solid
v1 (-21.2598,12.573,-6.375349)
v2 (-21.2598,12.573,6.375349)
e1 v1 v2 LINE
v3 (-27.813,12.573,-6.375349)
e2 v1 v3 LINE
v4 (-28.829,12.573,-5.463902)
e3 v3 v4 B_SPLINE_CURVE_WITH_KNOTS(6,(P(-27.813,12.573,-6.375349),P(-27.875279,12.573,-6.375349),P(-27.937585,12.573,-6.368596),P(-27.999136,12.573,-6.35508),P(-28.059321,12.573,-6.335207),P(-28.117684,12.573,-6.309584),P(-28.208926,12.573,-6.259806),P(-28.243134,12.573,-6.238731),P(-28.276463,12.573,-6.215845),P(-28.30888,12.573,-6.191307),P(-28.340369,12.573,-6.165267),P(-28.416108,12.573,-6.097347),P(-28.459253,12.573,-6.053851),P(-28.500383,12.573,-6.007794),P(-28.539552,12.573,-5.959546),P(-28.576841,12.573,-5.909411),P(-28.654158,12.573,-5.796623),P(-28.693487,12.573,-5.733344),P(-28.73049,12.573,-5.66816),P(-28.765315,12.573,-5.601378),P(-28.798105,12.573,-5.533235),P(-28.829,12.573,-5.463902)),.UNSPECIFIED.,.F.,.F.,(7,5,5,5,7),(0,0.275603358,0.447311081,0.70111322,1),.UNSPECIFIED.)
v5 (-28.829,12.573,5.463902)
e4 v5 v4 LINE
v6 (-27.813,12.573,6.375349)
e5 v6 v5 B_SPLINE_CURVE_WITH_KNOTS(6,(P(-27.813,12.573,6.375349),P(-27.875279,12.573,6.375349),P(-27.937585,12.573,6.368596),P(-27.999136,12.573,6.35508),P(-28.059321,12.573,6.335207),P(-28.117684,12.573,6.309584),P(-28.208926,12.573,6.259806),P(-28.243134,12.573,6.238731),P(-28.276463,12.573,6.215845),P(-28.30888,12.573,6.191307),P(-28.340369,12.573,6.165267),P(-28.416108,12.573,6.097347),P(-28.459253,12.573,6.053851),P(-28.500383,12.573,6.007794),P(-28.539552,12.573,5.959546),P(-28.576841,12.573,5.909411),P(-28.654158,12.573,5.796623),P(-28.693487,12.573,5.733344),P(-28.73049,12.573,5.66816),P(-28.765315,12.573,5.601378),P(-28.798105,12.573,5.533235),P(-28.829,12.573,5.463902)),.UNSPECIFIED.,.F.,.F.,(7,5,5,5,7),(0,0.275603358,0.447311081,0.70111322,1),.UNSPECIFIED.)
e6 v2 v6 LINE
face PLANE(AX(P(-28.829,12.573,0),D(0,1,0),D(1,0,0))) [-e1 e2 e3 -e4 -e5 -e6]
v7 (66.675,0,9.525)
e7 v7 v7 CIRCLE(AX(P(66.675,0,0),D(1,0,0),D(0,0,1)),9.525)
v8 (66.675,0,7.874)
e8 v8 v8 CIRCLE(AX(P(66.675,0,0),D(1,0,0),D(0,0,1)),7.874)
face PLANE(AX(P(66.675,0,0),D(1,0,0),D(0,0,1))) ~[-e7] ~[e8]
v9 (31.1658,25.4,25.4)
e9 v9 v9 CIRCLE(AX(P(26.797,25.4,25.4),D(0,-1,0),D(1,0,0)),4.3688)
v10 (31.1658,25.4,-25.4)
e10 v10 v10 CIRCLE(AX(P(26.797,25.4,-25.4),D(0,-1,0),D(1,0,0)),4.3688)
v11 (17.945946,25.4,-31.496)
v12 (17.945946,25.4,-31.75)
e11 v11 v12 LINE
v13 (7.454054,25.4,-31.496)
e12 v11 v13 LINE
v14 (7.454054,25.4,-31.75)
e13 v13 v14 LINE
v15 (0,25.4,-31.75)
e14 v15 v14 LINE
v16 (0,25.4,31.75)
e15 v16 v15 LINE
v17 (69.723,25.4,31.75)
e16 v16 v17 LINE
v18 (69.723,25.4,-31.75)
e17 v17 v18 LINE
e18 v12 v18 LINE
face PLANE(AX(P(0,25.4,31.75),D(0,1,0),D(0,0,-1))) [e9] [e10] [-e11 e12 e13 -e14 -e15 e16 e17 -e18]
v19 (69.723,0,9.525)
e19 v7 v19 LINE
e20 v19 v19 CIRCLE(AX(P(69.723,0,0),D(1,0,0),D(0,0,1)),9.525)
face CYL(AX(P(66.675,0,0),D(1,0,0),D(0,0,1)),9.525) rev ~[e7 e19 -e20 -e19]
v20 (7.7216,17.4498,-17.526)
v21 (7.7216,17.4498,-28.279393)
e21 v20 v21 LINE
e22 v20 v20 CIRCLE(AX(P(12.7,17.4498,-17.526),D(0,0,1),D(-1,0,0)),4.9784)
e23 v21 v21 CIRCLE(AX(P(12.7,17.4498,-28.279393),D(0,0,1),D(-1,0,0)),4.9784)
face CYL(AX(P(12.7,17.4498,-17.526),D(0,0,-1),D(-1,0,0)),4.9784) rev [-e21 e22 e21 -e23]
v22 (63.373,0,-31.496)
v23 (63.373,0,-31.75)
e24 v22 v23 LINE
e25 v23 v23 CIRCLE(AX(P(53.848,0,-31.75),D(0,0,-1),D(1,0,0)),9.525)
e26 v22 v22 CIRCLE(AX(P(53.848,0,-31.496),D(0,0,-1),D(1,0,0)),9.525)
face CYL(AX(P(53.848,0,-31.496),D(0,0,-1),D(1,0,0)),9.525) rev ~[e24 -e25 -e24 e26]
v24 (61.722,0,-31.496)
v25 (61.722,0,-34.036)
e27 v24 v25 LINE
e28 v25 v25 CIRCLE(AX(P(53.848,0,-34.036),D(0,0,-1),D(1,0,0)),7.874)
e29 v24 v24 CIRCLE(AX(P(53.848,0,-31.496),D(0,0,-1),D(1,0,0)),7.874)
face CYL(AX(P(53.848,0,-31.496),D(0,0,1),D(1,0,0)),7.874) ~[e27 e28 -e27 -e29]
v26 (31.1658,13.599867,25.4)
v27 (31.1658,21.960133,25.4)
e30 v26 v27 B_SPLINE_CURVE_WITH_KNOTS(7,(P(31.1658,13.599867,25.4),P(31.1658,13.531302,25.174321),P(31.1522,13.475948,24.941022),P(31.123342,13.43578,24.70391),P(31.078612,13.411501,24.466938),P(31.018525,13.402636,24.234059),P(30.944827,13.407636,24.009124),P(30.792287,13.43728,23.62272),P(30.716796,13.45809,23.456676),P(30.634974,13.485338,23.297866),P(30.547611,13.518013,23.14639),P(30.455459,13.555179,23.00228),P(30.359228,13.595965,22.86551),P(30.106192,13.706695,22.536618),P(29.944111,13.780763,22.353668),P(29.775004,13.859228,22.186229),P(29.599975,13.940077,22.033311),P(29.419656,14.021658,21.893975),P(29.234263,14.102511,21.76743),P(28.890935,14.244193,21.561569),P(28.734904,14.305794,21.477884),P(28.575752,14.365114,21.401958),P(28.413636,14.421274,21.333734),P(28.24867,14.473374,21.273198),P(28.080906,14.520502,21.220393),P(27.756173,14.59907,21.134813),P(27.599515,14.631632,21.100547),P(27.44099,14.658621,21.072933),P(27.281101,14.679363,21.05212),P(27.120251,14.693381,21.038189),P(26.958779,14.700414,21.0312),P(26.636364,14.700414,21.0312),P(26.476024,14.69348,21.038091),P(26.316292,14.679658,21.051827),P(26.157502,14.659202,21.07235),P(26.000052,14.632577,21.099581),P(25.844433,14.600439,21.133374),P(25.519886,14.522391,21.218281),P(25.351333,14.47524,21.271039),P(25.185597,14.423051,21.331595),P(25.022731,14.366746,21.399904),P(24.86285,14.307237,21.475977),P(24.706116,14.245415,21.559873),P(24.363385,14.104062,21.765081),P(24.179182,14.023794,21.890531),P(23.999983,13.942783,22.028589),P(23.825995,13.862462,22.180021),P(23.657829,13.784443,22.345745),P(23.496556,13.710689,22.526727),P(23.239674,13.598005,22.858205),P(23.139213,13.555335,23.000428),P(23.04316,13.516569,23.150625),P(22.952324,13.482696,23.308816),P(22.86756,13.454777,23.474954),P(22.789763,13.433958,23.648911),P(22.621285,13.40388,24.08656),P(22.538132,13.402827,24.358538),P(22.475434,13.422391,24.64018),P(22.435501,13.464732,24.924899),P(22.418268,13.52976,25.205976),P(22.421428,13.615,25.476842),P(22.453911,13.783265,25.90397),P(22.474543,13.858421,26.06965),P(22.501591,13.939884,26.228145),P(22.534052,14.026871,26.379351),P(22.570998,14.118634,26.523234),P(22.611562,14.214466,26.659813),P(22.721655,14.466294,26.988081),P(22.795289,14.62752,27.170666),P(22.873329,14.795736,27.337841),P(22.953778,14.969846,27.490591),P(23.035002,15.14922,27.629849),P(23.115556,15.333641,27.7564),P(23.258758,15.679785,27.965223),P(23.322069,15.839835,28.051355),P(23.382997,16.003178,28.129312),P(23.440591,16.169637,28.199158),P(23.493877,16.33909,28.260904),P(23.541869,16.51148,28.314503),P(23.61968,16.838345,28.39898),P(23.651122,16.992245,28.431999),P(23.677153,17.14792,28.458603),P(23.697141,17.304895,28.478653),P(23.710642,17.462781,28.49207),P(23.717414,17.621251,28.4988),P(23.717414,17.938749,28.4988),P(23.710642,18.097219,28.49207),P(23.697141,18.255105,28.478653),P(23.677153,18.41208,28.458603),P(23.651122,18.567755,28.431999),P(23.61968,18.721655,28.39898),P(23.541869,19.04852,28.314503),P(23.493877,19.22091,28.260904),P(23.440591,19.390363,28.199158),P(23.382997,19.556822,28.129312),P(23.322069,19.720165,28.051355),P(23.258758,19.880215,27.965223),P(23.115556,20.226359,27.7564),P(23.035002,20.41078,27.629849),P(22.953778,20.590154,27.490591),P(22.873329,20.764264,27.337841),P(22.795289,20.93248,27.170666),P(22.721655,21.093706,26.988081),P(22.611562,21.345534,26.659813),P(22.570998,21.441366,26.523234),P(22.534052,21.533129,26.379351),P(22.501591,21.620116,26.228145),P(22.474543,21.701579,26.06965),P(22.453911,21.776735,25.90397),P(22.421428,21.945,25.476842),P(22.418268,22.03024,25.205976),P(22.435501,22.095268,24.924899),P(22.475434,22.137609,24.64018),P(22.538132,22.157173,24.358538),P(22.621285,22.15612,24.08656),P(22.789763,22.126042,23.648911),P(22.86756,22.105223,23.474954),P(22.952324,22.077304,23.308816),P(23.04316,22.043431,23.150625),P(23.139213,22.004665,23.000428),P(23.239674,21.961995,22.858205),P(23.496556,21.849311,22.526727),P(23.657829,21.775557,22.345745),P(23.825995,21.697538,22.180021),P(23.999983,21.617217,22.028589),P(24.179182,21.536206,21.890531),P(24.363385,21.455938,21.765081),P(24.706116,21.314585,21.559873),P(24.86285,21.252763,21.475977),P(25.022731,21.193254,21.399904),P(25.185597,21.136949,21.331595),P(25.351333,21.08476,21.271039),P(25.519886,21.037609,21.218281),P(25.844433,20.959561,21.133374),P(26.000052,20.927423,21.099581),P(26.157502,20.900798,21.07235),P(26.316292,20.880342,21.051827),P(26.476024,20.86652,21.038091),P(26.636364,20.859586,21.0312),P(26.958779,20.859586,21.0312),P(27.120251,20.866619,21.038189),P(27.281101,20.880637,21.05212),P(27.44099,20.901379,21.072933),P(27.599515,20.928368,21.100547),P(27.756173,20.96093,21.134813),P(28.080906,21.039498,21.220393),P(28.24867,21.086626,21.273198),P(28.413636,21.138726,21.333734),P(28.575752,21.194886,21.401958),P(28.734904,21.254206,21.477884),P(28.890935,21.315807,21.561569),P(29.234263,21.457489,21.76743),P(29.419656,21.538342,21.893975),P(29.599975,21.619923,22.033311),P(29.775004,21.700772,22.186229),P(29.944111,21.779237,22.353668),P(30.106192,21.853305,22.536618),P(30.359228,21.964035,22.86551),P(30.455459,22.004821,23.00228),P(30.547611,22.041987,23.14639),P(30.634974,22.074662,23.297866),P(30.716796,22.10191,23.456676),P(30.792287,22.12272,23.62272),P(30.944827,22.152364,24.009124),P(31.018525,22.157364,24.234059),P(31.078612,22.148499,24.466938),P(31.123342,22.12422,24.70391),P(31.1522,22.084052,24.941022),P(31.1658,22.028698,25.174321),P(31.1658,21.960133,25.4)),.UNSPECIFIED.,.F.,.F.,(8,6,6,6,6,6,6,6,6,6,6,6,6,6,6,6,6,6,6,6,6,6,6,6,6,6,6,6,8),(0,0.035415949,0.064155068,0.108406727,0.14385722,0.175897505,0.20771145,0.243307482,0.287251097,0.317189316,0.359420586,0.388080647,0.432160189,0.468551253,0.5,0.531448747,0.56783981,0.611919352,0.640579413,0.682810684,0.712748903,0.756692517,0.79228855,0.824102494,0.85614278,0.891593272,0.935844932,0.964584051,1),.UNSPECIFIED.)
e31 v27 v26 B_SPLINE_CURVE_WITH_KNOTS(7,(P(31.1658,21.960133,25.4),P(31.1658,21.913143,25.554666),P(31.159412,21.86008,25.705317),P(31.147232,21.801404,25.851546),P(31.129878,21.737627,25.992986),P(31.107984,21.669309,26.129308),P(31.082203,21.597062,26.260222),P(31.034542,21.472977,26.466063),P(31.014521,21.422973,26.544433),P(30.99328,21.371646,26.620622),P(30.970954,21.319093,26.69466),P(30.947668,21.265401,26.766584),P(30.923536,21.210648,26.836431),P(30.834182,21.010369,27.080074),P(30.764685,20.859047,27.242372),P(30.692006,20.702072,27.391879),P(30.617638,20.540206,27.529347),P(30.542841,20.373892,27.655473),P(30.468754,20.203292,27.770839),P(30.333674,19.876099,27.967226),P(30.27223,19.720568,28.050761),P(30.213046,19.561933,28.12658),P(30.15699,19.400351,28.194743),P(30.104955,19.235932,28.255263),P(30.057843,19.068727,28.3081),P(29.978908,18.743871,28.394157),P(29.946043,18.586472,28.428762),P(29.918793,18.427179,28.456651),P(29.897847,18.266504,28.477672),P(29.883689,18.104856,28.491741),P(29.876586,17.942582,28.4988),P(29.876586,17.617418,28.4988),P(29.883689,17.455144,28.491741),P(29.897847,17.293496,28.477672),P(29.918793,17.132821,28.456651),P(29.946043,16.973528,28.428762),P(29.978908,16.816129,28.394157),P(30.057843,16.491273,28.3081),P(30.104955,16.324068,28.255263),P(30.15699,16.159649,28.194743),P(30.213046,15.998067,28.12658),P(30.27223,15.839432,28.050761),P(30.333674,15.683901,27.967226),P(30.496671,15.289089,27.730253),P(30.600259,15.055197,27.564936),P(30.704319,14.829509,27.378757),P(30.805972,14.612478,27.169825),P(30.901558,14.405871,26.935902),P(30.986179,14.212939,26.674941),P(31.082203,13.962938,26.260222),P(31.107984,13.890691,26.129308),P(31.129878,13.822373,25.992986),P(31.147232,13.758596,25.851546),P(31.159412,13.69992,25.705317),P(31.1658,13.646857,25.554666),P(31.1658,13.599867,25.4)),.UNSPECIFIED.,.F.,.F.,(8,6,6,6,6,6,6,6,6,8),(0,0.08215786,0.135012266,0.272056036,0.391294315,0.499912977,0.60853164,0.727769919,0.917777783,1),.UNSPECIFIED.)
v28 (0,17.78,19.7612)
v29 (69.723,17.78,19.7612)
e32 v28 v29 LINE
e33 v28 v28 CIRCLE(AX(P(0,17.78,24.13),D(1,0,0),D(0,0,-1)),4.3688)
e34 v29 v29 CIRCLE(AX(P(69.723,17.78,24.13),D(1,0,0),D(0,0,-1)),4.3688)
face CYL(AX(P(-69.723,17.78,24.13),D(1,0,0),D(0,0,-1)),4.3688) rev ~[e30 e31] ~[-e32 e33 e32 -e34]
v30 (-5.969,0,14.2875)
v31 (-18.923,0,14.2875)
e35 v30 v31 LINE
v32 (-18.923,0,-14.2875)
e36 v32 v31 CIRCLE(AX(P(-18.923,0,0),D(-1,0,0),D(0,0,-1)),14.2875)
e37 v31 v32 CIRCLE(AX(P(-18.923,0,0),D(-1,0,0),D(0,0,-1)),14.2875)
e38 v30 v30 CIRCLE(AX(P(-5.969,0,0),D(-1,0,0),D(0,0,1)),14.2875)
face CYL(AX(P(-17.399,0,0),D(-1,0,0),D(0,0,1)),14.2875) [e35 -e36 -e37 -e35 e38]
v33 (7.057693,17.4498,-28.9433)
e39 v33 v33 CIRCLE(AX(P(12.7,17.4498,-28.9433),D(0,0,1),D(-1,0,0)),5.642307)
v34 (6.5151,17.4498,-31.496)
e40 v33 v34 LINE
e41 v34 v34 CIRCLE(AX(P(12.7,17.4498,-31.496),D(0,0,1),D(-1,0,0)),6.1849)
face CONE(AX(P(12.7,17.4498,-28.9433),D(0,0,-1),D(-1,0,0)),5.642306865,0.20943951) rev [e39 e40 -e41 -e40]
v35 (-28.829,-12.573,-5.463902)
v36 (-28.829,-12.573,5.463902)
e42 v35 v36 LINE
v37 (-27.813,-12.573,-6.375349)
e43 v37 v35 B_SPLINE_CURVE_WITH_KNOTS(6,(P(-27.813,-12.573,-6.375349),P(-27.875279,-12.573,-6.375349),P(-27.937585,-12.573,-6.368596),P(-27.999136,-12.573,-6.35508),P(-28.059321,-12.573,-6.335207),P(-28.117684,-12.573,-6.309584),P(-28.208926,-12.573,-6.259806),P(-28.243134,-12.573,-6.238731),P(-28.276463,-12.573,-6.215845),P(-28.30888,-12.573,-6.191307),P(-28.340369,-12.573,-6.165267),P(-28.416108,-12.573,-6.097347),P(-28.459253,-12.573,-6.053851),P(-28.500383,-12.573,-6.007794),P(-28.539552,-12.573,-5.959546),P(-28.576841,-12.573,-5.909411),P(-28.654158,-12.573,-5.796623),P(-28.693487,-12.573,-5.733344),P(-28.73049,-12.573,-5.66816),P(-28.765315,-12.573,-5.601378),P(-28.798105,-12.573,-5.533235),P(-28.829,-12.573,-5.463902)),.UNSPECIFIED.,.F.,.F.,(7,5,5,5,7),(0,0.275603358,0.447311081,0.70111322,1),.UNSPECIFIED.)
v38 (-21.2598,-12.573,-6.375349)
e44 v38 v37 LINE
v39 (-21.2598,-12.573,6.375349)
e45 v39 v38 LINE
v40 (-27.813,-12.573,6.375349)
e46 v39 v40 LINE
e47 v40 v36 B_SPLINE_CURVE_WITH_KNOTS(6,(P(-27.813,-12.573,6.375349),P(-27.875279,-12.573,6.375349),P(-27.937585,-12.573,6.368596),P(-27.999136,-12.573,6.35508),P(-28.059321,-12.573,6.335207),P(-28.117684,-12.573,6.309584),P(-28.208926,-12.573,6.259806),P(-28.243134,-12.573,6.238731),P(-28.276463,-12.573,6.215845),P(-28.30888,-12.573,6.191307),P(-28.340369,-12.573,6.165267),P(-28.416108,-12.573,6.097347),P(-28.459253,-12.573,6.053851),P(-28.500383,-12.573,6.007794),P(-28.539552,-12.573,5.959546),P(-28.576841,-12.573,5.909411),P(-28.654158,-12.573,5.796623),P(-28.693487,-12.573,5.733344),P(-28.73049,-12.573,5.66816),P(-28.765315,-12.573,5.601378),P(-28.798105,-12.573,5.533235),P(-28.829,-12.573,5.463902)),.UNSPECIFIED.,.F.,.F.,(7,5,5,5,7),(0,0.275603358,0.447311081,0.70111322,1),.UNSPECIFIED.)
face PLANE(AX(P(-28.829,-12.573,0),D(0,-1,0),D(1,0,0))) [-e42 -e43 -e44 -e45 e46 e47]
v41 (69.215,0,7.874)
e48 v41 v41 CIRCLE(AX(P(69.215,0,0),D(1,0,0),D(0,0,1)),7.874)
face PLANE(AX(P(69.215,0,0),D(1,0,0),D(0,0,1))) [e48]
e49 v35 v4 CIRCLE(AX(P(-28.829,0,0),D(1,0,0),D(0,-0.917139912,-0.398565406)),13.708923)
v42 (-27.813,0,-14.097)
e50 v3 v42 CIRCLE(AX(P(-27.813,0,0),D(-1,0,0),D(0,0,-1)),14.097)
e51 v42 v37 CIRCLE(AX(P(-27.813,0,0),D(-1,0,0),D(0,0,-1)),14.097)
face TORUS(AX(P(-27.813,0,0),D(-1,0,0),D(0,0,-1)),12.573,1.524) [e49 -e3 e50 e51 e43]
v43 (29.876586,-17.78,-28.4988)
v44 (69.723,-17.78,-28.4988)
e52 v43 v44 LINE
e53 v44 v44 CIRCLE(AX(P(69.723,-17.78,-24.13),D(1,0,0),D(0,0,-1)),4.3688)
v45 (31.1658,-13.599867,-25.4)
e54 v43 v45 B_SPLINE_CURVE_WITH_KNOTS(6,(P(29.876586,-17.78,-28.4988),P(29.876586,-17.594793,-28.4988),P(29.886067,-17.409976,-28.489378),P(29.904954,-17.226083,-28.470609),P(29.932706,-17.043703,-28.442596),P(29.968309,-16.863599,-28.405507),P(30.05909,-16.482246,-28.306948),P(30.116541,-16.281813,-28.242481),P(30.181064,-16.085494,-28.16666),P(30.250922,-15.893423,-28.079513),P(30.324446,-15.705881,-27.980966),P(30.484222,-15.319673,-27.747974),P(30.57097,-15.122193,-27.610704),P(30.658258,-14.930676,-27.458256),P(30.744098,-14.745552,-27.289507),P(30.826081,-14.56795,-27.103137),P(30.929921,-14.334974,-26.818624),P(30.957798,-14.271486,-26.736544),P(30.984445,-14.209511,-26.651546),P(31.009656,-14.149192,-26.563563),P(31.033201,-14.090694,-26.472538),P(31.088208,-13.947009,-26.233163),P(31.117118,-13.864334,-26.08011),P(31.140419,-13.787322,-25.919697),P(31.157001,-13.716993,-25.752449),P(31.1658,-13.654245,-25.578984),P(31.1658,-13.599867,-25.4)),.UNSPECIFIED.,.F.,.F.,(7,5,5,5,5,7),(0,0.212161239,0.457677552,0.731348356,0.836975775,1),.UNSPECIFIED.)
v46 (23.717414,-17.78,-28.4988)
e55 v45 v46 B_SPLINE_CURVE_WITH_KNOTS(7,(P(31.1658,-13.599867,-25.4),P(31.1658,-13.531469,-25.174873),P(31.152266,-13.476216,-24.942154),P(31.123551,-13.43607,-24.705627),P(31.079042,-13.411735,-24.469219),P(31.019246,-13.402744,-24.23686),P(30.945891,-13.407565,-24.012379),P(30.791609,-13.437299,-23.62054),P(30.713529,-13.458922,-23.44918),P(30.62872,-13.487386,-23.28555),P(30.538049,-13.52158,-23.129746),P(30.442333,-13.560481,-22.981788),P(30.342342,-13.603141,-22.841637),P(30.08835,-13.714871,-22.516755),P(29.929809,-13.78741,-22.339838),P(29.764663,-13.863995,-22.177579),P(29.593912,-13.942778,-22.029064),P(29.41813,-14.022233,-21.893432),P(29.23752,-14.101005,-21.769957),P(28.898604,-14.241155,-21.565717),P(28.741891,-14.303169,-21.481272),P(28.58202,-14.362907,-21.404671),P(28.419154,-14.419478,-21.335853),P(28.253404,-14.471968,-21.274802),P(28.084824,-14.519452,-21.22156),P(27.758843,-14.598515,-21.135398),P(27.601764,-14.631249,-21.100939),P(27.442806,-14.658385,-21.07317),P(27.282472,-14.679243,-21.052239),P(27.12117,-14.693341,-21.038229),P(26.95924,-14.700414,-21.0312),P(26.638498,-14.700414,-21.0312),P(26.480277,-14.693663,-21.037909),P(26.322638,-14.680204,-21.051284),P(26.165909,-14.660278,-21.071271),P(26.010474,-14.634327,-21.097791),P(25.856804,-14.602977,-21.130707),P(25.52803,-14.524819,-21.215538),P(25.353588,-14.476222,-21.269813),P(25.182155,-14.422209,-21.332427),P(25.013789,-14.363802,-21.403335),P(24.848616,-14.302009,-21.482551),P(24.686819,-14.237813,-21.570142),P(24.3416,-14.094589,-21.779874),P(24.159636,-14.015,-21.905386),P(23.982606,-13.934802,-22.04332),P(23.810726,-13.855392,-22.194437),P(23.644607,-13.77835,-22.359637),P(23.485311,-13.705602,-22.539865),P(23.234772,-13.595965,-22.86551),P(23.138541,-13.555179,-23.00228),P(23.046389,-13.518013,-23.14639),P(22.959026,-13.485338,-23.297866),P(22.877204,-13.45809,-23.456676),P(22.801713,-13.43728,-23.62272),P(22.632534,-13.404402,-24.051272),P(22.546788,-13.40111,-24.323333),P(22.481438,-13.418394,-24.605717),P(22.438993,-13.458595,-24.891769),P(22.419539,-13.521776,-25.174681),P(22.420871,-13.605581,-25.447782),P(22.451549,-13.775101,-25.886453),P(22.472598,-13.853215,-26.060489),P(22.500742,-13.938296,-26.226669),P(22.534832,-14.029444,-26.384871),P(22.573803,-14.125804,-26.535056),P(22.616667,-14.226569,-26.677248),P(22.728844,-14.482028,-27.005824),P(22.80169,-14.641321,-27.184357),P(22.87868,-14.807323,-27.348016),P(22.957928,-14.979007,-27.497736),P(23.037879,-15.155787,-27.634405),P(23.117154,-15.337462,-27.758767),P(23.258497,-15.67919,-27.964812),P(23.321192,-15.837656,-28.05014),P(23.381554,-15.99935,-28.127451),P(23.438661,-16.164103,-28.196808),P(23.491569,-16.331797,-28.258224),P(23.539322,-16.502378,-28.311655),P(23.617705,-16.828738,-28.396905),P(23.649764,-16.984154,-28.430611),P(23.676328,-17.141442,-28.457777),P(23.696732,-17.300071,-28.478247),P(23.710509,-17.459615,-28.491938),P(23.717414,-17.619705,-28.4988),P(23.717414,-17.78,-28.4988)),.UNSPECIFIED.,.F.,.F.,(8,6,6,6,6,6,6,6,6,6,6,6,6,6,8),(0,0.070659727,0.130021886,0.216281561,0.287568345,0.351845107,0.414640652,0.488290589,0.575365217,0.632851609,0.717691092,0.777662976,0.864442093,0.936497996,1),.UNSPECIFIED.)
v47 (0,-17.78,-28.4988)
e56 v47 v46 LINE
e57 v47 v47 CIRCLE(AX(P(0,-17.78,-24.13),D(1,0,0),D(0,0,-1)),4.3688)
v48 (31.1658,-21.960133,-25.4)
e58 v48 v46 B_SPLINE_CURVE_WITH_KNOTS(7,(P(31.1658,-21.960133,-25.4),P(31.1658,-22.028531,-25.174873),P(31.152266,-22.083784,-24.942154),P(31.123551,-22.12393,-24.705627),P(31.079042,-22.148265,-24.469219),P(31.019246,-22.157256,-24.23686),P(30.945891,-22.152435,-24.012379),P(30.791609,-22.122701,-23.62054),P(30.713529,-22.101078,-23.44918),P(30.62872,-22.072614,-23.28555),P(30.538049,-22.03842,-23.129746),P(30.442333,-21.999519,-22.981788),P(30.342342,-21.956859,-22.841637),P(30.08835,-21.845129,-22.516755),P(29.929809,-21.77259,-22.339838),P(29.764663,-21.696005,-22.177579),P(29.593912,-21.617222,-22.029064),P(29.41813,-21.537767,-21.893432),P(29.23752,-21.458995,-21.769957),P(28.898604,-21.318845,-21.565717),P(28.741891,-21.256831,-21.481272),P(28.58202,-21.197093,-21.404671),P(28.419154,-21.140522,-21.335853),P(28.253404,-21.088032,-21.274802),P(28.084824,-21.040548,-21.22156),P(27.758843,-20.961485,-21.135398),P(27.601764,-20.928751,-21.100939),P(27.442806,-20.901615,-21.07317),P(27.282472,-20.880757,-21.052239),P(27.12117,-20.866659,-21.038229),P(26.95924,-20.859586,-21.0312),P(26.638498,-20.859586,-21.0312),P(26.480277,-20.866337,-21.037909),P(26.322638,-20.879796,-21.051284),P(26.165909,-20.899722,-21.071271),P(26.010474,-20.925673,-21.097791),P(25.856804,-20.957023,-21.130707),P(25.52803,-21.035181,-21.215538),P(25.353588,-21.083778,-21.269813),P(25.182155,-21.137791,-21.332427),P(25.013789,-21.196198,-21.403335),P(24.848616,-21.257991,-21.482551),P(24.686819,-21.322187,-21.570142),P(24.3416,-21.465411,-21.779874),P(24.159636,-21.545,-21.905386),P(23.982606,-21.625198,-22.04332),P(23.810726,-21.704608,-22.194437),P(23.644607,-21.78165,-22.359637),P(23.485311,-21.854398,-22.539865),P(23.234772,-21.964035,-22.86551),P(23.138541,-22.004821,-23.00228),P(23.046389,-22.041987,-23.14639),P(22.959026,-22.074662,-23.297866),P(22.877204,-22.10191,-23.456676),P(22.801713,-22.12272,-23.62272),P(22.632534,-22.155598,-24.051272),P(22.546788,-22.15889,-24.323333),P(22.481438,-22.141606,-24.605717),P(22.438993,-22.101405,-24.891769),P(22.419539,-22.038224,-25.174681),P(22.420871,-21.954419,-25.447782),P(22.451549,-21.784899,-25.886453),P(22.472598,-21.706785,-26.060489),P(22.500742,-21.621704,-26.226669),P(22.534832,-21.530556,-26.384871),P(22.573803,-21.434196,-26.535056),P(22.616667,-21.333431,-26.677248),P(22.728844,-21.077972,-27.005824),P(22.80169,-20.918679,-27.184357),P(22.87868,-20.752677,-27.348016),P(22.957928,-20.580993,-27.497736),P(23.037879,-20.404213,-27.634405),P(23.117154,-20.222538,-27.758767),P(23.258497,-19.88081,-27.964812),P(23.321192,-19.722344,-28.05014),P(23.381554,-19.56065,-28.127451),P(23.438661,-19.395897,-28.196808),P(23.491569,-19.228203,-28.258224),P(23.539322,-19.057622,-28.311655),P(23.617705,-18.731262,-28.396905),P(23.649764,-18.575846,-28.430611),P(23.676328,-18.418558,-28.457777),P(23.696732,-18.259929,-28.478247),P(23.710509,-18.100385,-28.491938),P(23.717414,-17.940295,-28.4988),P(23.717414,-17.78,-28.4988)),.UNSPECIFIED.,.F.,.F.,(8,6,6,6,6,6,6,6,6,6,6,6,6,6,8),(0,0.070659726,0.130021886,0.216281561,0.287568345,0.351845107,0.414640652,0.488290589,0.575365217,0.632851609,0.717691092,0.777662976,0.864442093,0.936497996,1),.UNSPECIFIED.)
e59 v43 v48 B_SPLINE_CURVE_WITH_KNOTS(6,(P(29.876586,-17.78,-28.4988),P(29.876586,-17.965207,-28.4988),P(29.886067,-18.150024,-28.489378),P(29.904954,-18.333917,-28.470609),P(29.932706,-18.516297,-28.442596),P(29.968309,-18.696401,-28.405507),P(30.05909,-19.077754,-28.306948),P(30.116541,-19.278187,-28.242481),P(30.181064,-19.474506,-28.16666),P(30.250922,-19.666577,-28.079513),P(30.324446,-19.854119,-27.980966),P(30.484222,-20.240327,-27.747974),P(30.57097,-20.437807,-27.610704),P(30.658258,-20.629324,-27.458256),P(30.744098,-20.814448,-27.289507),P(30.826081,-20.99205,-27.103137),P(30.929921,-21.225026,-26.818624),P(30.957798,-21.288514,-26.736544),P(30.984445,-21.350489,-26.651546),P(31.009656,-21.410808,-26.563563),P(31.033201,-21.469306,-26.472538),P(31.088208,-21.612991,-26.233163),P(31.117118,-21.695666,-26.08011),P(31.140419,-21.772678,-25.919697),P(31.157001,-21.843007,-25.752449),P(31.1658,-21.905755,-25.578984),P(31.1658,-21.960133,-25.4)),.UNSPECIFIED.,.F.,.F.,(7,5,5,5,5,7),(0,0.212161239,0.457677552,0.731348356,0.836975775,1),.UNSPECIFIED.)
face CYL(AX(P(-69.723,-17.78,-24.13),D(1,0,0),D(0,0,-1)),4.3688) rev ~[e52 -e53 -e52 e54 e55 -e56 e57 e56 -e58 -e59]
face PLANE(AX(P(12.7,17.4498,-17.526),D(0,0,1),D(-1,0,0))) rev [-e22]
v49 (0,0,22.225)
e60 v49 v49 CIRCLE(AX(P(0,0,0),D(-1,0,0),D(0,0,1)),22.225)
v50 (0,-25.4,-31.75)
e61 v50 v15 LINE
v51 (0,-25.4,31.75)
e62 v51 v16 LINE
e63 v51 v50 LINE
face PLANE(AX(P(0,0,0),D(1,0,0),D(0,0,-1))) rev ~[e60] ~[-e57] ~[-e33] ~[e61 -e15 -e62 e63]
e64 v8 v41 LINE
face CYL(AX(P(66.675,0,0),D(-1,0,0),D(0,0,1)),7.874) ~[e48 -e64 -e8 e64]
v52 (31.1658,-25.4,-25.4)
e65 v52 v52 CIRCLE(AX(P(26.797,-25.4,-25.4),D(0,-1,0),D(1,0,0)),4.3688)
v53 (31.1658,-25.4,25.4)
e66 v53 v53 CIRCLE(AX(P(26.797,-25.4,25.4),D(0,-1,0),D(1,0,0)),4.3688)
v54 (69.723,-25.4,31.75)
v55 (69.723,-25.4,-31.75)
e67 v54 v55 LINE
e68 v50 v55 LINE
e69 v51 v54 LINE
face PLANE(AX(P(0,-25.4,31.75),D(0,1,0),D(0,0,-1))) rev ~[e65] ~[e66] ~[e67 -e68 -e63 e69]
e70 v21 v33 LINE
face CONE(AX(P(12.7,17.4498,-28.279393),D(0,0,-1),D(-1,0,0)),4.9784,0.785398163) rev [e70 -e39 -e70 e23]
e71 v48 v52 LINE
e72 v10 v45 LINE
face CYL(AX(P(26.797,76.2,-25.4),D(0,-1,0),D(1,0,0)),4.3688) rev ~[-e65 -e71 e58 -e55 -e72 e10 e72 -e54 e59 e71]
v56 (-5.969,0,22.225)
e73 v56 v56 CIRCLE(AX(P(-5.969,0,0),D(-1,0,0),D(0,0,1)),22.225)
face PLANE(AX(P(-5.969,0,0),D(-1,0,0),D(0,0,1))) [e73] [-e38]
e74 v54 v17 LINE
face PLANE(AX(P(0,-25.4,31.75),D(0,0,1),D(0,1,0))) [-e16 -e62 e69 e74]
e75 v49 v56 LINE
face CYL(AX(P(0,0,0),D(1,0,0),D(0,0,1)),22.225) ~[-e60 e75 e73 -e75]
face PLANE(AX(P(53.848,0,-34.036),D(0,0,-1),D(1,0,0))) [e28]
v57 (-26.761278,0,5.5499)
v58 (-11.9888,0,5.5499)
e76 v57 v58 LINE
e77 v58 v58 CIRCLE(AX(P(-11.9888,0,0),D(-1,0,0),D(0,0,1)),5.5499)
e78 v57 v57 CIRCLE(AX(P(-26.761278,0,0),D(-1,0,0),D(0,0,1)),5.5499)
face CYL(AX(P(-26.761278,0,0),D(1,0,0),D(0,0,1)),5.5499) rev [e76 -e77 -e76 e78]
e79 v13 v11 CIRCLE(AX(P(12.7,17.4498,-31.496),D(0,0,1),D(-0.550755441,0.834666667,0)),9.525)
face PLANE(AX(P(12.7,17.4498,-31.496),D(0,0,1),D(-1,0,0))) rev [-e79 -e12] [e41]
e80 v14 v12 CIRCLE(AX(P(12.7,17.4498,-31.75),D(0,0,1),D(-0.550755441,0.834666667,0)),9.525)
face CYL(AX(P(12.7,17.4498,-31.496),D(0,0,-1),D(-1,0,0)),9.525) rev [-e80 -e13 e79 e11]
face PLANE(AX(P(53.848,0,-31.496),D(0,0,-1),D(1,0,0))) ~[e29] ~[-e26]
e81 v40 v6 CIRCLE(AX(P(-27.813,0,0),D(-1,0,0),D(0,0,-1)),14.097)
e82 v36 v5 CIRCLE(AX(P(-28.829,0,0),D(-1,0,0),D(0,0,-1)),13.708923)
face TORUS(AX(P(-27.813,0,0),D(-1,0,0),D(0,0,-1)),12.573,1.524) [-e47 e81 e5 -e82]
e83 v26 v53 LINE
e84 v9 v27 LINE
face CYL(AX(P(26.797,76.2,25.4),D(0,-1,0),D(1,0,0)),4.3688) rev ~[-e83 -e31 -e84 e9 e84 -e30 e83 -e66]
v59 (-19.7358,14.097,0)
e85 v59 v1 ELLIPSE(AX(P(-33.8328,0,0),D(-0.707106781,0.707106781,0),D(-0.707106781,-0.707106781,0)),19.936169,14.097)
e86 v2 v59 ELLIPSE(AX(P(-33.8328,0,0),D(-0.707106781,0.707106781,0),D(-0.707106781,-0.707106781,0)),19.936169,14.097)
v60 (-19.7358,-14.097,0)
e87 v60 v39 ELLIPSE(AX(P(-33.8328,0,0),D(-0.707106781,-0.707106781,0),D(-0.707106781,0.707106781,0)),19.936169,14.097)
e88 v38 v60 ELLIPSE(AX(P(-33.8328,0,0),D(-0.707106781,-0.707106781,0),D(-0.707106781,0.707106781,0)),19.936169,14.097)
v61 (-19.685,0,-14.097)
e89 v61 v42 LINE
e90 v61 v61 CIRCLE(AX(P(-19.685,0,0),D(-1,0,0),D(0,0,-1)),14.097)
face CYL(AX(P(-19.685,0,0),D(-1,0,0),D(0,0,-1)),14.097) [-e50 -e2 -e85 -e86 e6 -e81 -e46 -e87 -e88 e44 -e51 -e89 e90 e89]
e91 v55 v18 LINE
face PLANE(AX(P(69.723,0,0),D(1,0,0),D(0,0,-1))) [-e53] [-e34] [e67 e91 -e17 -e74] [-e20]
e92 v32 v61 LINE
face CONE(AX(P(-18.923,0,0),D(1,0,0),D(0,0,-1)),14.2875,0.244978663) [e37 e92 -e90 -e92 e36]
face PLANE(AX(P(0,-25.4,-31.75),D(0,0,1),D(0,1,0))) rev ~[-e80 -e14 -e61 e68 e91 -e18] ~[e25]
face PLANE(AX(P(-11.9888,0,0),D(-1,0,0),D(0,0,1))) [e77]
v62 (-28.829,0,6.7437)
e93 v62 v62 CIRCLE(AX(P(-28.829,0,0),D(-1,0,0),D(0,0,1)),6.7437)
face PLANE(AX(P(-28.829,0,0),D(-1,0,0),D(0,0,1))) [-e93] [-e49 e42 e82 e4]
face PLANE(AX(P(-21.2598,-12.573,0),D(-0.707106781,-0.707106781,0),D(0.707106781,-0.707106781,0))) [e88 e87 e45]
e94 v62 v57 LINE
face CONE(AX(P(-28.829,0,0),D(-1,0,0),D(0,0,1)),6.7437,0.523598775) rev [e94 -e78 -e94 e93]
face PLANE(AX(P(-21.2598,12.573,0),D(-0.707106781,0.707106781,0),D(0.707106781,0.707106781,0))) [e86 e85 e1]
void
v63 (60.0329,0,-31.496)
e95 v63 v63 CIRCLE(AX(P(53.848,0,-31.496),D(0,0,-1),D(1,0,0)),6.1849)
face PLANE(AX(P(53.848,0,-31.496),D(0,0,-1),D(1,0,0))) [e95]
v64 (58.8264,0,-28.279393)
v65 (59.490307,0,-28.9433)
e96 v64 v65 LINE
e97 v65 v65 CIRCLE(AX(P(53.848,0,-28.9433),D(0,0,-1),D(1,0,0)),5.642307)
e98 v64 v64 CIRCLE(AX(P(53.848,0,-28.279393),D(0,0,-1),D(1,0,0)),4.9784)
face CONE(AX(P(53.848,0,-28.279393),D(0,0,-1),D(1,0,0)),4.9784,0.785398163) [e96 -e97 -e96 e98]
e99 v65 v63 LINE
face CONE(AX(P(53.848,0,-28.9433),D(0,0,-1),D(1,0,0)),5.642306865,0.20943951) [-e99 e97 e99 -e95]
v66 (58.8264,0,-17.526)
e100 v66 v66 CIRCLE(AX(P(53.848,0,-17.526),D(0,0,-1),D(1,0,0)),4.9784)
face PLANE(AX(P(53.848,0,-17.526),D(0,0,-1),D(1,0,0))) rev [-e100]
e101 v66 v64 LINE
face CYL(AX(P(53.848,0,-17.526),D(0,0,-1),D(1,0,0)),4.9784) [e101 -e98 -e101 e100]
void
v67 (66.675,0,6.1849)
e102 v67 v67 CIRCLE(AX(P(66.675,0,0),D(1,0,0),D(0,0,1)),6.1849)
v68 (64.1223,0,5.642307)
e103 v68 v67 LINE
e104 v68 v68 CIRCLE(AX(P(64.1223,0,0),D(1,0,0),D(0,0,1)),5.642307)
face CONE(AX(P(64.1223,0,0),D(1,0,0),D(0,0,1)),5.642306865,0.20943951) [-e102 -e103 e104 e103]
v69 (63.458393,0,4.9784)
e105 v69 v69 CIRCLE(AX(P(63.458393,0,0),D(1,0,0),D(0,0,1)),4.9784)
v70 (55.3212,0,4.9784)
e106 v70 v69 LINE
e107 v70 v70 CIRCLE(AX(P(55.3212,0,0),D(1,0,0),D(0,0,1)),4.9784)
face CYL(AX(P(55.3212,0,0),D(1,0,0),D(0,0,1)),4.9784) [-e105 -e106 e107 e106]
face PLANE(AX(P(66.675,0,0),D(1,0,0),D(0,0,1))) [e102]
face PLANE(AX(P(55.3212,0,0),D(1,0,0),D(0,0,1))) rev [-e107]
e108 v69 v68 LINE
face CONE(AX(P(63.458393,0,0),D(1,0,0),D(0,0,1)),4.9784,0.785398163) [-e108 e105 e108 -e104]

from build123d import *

# Parameters (mm, degrees)
SKETCH1_W          = 63.5
SKETCH1_H          = 50.8
EXTRUDE1_DEPTH     = 69.723
SKETCH5_R          = 22.225
EXTRUDE2_DEPTH     = 5.969
SKETCH6_W          = 14.2875
SKETCH6_H          = 22.86
CUT_EXTRUDE4_DEPTH = 30.48
SKETCH13_R         = 7.874
EXTRUDE3_DEPTH     = 2.54
HOLE1_D            = 8.7376
HOLE1_DEPTH        = 69.723
HOLE2_D            = 8.7376
HOLE2_DEPTH        = 50.8
SKETCH18_R         = 7.874
EXTRUDE4_DEPTH     = 2.54


with BuildPart() as part:
    # Sketch1 → Extrude1 (new body)
    with BuildSketch(Plane(origin=(0, 0, 0), x_dir=(0, 0, -1), z_dir=(1, 0, 0))):
        Rectangle(SKETCH1_W, SKETCH1_H)
    extrude(amount=EXTRUDE1_DEPTH)

    # S2D0002 → Cut-Revolve1 (revolve, cut)
    with BuildSketch(Plane(origin=(0, 17.4498, 0), x_dir=(-1, 0, 0), z_dir=(0, 1, 0)), mode=Mode.PRIVATE) as cut_revolve1_sk:
        Polygon((-18.8849, -31.496), (-22.225, -31.496), (-22.225, -31.75), (-12.7, -31.75), (-12.7, -17.526), (-17.6784, -17.526), (-17.6784, -28.279393135), (-18.342306865, -28.9433), align=None)
    revolve(cut_revolve1_sk.sketch.rotate(Axis((12.7, 17.4498, -19.13842003), (0, 0, 1)), 180), axis=Axis((12.7, 17.4498, -19.13842003), (0, 0, 1)), mode=Mode.SUBTRACT)  # turned: the seam where the file's is

    # Sketch3 → Cut-Revolve2 (revolve, cut)
    with BuildSketch(Plane(origin=(41.148, 0, -25.146), x_dir=(1, 0, 0), z_dir=(0, 1, 0))):
        Polygon((18.8849, 6.35), (22.225, 6.35), (22.225, 6.604), (12.7, 6.604), (12.7, -7.62), (17.6784, -7.62), (17.6784, 3.133393135), (18.342306865, 3.7973), align=None)
    revolve(axis=Axis((53.848, 0, -3.189624441), (0, 0, -1)), mode=Mode.SUBTRACT)

    # Sketch4 → Cut-Revolve3 (revolve, cut)
    with BuildSketch(Plane(origin=(53.975, 0, 0), x_dir=(0, -1, 0), z_dir=(0, 0, 1)), mode=Mode.PRIVATE) as cut_revolve3_sk:
        Polygon((6.1849, 12.7), (9.525, 12.7), (9.525, 15.748), (0, 15.748), (0, 1.3462), (4.9784, 1.3462), (4.9784, 9.483393135), (5.642306865, 10.1473), align=None)
    revolve(cut_revolve3_sk.sketch.rotate(Axis((38.879609832, 0, 0), (1, 0, 0)), 270), axis=Axis((38.879609832, 0, 0), (1, 0, 0)), mode=Mode.SUBTRACT)  # turned: the seam where the file's is

    # Sketch5 → Extrude2 (add)
    with BuildSketch(Plane.ZY):
        Circle(SKETCH5_R)
    extrude(amount=EXTRUDE2_DEPTH)

    # Sketch6 → Revolve1 (revolve)
    with BuildSketch(Plane(origin=(0, 0, 0), x_dir=(0, 0, 1), z_dir=(0, -1, 0)), mode=Mode.PRIVATE) as revolve1_sk:
        with Locations((-7.14375, 17.399)):
            Rectangle(SKETCH6_W, SKETCH6_H)
    revolve(revolve1_sk.sketch.rotate(Axis((5.754582971, 0, 0), (-1, 0, 0)), 180), axis=Axis((5.754582971, 0, 0), (-1, 0, 0)))  # turned: the seam where the file's is

    # S2D0001 → Cut-Revolve4 (revolve, cut)
    with BuildSketch(Plane(origin=(-18.511260017, 3.2639, 0), x_dir=(0, 1, 0), z_dir=(0, 0, 1)), mode=Mode.PRIVATE) as cut_revolve4_sk:
        Polygon((2.286, 8.250017728), (2.286, -6.522460017), (-3.2639, -6.522460017), (-3.2639, 10.317739983), (3.4798, 10.317739983), align=None)
    revolve(cut_revolve4_sk.sketch.rotate(Axis((0, 0, 0), (-1, 0, 0)), 270), axis=Axis((0, 0, 0), (-1, 0, 0)), mode=Mode.SUBTRACT)  # turned: the seam where the file's is

    # Sketch8 → Cut-Revolve5 (revolve, cut)
    with BuildSketch(Plane(origin=(0, 0, 0), x_dir=(0, 0, -1), z_dir=(0, 1, 0)), mode=Mode.PRIVATE) as cut_revolve5_sk:
        with BuildLine():
            Line((-14.2875, 18.923), (-14.097, 19.685))
            Line((-14.097, 19.685), (-14.097, 27.813))
            ThreePointArc((-14.097, 27.813), (-13.996678675, 28.356796865), (-13.708922533, 28.829))
            Line((-13.708922533, 28.829), (-14.2875, 28.829))
            Line((-14.2875, 28.829), (-14.2875, 18.923))
        make_face()
    revolve(cut_revolve5_sk.sketch.rotate(Axis((-12.65936, 0, 0), (-1, 0, 0)), 180), axis=Axis((-12.65936, 0, 0), (-1, 0, 0)), mode=Mode.SUBTRACT)  # turned: the seam where the file's is

    # Sketch12 → Cut-Extrude4 (cut, symmetric)
    with BuildSketch(Plane(origin=(0, 0, 0), x_dir=(0, -1, 0), z_dir=(0, 0, -1))):
        Polygon((12.573, 28.829), (12.573, 21.2598), (14.097, 19.7358), (14.097, 28.829), align=None)
        Polygon((-12.573, 28.829), (-12.573, 21.2598), (-14.097, 19.7358), (-14.097, 28.829), align=None)
    extrude(amount=CUT_EXTRUDE4_DEPTH, both=True, mode=Mode.SUBTRACT)

    # Sketch13 → Extrude3 (add)
    with BuildSketch(Plane(origin=(0, 0, -31.496), x_dir=(-1, 0, 0), z_dir=(0, 0, -1))):
        with Locations(Location((-53.848, 0, 0), (0, 0, 180))):  # turned: the seam where the file's is
            Circle(SKETCH13_R)
    extrude(amount=EXTRUDE3_DEPTH)

    # Hole1
    with Locations(Plane.ZY):
        with Locations((-24.13, -17.78), (24.13, 17.78)):
            Hole(HOLE1_D / 2, depth=HOLE1_DEPTH)

    # Hole2
    with Locations(Plane(origin=(0, 25.4, 0), x_dir=(-1, 0, 0), z_dir=(0, 1, 0))):
        with Locations((-26.797, -25.4), (-26.797, 25.4)):
            Hole(HOLE2_D / 2, depth=HOLE2_DEPTH)

    # Sketch18 → Extrude4 (add)
    with BuildSketch(Plane(origin=(66.675, 0, 0), x_dir=(0, 0, -1), z_dir=(1, 0, 0))):
        with Locations(Location((0, 0, 0), (0, 0, 180))):  # turned: the seam where the file's is
            Circle(SKETCH18_R)
    extrude(amount=EXTRUDE4_DEPTH)


solid = part.part
